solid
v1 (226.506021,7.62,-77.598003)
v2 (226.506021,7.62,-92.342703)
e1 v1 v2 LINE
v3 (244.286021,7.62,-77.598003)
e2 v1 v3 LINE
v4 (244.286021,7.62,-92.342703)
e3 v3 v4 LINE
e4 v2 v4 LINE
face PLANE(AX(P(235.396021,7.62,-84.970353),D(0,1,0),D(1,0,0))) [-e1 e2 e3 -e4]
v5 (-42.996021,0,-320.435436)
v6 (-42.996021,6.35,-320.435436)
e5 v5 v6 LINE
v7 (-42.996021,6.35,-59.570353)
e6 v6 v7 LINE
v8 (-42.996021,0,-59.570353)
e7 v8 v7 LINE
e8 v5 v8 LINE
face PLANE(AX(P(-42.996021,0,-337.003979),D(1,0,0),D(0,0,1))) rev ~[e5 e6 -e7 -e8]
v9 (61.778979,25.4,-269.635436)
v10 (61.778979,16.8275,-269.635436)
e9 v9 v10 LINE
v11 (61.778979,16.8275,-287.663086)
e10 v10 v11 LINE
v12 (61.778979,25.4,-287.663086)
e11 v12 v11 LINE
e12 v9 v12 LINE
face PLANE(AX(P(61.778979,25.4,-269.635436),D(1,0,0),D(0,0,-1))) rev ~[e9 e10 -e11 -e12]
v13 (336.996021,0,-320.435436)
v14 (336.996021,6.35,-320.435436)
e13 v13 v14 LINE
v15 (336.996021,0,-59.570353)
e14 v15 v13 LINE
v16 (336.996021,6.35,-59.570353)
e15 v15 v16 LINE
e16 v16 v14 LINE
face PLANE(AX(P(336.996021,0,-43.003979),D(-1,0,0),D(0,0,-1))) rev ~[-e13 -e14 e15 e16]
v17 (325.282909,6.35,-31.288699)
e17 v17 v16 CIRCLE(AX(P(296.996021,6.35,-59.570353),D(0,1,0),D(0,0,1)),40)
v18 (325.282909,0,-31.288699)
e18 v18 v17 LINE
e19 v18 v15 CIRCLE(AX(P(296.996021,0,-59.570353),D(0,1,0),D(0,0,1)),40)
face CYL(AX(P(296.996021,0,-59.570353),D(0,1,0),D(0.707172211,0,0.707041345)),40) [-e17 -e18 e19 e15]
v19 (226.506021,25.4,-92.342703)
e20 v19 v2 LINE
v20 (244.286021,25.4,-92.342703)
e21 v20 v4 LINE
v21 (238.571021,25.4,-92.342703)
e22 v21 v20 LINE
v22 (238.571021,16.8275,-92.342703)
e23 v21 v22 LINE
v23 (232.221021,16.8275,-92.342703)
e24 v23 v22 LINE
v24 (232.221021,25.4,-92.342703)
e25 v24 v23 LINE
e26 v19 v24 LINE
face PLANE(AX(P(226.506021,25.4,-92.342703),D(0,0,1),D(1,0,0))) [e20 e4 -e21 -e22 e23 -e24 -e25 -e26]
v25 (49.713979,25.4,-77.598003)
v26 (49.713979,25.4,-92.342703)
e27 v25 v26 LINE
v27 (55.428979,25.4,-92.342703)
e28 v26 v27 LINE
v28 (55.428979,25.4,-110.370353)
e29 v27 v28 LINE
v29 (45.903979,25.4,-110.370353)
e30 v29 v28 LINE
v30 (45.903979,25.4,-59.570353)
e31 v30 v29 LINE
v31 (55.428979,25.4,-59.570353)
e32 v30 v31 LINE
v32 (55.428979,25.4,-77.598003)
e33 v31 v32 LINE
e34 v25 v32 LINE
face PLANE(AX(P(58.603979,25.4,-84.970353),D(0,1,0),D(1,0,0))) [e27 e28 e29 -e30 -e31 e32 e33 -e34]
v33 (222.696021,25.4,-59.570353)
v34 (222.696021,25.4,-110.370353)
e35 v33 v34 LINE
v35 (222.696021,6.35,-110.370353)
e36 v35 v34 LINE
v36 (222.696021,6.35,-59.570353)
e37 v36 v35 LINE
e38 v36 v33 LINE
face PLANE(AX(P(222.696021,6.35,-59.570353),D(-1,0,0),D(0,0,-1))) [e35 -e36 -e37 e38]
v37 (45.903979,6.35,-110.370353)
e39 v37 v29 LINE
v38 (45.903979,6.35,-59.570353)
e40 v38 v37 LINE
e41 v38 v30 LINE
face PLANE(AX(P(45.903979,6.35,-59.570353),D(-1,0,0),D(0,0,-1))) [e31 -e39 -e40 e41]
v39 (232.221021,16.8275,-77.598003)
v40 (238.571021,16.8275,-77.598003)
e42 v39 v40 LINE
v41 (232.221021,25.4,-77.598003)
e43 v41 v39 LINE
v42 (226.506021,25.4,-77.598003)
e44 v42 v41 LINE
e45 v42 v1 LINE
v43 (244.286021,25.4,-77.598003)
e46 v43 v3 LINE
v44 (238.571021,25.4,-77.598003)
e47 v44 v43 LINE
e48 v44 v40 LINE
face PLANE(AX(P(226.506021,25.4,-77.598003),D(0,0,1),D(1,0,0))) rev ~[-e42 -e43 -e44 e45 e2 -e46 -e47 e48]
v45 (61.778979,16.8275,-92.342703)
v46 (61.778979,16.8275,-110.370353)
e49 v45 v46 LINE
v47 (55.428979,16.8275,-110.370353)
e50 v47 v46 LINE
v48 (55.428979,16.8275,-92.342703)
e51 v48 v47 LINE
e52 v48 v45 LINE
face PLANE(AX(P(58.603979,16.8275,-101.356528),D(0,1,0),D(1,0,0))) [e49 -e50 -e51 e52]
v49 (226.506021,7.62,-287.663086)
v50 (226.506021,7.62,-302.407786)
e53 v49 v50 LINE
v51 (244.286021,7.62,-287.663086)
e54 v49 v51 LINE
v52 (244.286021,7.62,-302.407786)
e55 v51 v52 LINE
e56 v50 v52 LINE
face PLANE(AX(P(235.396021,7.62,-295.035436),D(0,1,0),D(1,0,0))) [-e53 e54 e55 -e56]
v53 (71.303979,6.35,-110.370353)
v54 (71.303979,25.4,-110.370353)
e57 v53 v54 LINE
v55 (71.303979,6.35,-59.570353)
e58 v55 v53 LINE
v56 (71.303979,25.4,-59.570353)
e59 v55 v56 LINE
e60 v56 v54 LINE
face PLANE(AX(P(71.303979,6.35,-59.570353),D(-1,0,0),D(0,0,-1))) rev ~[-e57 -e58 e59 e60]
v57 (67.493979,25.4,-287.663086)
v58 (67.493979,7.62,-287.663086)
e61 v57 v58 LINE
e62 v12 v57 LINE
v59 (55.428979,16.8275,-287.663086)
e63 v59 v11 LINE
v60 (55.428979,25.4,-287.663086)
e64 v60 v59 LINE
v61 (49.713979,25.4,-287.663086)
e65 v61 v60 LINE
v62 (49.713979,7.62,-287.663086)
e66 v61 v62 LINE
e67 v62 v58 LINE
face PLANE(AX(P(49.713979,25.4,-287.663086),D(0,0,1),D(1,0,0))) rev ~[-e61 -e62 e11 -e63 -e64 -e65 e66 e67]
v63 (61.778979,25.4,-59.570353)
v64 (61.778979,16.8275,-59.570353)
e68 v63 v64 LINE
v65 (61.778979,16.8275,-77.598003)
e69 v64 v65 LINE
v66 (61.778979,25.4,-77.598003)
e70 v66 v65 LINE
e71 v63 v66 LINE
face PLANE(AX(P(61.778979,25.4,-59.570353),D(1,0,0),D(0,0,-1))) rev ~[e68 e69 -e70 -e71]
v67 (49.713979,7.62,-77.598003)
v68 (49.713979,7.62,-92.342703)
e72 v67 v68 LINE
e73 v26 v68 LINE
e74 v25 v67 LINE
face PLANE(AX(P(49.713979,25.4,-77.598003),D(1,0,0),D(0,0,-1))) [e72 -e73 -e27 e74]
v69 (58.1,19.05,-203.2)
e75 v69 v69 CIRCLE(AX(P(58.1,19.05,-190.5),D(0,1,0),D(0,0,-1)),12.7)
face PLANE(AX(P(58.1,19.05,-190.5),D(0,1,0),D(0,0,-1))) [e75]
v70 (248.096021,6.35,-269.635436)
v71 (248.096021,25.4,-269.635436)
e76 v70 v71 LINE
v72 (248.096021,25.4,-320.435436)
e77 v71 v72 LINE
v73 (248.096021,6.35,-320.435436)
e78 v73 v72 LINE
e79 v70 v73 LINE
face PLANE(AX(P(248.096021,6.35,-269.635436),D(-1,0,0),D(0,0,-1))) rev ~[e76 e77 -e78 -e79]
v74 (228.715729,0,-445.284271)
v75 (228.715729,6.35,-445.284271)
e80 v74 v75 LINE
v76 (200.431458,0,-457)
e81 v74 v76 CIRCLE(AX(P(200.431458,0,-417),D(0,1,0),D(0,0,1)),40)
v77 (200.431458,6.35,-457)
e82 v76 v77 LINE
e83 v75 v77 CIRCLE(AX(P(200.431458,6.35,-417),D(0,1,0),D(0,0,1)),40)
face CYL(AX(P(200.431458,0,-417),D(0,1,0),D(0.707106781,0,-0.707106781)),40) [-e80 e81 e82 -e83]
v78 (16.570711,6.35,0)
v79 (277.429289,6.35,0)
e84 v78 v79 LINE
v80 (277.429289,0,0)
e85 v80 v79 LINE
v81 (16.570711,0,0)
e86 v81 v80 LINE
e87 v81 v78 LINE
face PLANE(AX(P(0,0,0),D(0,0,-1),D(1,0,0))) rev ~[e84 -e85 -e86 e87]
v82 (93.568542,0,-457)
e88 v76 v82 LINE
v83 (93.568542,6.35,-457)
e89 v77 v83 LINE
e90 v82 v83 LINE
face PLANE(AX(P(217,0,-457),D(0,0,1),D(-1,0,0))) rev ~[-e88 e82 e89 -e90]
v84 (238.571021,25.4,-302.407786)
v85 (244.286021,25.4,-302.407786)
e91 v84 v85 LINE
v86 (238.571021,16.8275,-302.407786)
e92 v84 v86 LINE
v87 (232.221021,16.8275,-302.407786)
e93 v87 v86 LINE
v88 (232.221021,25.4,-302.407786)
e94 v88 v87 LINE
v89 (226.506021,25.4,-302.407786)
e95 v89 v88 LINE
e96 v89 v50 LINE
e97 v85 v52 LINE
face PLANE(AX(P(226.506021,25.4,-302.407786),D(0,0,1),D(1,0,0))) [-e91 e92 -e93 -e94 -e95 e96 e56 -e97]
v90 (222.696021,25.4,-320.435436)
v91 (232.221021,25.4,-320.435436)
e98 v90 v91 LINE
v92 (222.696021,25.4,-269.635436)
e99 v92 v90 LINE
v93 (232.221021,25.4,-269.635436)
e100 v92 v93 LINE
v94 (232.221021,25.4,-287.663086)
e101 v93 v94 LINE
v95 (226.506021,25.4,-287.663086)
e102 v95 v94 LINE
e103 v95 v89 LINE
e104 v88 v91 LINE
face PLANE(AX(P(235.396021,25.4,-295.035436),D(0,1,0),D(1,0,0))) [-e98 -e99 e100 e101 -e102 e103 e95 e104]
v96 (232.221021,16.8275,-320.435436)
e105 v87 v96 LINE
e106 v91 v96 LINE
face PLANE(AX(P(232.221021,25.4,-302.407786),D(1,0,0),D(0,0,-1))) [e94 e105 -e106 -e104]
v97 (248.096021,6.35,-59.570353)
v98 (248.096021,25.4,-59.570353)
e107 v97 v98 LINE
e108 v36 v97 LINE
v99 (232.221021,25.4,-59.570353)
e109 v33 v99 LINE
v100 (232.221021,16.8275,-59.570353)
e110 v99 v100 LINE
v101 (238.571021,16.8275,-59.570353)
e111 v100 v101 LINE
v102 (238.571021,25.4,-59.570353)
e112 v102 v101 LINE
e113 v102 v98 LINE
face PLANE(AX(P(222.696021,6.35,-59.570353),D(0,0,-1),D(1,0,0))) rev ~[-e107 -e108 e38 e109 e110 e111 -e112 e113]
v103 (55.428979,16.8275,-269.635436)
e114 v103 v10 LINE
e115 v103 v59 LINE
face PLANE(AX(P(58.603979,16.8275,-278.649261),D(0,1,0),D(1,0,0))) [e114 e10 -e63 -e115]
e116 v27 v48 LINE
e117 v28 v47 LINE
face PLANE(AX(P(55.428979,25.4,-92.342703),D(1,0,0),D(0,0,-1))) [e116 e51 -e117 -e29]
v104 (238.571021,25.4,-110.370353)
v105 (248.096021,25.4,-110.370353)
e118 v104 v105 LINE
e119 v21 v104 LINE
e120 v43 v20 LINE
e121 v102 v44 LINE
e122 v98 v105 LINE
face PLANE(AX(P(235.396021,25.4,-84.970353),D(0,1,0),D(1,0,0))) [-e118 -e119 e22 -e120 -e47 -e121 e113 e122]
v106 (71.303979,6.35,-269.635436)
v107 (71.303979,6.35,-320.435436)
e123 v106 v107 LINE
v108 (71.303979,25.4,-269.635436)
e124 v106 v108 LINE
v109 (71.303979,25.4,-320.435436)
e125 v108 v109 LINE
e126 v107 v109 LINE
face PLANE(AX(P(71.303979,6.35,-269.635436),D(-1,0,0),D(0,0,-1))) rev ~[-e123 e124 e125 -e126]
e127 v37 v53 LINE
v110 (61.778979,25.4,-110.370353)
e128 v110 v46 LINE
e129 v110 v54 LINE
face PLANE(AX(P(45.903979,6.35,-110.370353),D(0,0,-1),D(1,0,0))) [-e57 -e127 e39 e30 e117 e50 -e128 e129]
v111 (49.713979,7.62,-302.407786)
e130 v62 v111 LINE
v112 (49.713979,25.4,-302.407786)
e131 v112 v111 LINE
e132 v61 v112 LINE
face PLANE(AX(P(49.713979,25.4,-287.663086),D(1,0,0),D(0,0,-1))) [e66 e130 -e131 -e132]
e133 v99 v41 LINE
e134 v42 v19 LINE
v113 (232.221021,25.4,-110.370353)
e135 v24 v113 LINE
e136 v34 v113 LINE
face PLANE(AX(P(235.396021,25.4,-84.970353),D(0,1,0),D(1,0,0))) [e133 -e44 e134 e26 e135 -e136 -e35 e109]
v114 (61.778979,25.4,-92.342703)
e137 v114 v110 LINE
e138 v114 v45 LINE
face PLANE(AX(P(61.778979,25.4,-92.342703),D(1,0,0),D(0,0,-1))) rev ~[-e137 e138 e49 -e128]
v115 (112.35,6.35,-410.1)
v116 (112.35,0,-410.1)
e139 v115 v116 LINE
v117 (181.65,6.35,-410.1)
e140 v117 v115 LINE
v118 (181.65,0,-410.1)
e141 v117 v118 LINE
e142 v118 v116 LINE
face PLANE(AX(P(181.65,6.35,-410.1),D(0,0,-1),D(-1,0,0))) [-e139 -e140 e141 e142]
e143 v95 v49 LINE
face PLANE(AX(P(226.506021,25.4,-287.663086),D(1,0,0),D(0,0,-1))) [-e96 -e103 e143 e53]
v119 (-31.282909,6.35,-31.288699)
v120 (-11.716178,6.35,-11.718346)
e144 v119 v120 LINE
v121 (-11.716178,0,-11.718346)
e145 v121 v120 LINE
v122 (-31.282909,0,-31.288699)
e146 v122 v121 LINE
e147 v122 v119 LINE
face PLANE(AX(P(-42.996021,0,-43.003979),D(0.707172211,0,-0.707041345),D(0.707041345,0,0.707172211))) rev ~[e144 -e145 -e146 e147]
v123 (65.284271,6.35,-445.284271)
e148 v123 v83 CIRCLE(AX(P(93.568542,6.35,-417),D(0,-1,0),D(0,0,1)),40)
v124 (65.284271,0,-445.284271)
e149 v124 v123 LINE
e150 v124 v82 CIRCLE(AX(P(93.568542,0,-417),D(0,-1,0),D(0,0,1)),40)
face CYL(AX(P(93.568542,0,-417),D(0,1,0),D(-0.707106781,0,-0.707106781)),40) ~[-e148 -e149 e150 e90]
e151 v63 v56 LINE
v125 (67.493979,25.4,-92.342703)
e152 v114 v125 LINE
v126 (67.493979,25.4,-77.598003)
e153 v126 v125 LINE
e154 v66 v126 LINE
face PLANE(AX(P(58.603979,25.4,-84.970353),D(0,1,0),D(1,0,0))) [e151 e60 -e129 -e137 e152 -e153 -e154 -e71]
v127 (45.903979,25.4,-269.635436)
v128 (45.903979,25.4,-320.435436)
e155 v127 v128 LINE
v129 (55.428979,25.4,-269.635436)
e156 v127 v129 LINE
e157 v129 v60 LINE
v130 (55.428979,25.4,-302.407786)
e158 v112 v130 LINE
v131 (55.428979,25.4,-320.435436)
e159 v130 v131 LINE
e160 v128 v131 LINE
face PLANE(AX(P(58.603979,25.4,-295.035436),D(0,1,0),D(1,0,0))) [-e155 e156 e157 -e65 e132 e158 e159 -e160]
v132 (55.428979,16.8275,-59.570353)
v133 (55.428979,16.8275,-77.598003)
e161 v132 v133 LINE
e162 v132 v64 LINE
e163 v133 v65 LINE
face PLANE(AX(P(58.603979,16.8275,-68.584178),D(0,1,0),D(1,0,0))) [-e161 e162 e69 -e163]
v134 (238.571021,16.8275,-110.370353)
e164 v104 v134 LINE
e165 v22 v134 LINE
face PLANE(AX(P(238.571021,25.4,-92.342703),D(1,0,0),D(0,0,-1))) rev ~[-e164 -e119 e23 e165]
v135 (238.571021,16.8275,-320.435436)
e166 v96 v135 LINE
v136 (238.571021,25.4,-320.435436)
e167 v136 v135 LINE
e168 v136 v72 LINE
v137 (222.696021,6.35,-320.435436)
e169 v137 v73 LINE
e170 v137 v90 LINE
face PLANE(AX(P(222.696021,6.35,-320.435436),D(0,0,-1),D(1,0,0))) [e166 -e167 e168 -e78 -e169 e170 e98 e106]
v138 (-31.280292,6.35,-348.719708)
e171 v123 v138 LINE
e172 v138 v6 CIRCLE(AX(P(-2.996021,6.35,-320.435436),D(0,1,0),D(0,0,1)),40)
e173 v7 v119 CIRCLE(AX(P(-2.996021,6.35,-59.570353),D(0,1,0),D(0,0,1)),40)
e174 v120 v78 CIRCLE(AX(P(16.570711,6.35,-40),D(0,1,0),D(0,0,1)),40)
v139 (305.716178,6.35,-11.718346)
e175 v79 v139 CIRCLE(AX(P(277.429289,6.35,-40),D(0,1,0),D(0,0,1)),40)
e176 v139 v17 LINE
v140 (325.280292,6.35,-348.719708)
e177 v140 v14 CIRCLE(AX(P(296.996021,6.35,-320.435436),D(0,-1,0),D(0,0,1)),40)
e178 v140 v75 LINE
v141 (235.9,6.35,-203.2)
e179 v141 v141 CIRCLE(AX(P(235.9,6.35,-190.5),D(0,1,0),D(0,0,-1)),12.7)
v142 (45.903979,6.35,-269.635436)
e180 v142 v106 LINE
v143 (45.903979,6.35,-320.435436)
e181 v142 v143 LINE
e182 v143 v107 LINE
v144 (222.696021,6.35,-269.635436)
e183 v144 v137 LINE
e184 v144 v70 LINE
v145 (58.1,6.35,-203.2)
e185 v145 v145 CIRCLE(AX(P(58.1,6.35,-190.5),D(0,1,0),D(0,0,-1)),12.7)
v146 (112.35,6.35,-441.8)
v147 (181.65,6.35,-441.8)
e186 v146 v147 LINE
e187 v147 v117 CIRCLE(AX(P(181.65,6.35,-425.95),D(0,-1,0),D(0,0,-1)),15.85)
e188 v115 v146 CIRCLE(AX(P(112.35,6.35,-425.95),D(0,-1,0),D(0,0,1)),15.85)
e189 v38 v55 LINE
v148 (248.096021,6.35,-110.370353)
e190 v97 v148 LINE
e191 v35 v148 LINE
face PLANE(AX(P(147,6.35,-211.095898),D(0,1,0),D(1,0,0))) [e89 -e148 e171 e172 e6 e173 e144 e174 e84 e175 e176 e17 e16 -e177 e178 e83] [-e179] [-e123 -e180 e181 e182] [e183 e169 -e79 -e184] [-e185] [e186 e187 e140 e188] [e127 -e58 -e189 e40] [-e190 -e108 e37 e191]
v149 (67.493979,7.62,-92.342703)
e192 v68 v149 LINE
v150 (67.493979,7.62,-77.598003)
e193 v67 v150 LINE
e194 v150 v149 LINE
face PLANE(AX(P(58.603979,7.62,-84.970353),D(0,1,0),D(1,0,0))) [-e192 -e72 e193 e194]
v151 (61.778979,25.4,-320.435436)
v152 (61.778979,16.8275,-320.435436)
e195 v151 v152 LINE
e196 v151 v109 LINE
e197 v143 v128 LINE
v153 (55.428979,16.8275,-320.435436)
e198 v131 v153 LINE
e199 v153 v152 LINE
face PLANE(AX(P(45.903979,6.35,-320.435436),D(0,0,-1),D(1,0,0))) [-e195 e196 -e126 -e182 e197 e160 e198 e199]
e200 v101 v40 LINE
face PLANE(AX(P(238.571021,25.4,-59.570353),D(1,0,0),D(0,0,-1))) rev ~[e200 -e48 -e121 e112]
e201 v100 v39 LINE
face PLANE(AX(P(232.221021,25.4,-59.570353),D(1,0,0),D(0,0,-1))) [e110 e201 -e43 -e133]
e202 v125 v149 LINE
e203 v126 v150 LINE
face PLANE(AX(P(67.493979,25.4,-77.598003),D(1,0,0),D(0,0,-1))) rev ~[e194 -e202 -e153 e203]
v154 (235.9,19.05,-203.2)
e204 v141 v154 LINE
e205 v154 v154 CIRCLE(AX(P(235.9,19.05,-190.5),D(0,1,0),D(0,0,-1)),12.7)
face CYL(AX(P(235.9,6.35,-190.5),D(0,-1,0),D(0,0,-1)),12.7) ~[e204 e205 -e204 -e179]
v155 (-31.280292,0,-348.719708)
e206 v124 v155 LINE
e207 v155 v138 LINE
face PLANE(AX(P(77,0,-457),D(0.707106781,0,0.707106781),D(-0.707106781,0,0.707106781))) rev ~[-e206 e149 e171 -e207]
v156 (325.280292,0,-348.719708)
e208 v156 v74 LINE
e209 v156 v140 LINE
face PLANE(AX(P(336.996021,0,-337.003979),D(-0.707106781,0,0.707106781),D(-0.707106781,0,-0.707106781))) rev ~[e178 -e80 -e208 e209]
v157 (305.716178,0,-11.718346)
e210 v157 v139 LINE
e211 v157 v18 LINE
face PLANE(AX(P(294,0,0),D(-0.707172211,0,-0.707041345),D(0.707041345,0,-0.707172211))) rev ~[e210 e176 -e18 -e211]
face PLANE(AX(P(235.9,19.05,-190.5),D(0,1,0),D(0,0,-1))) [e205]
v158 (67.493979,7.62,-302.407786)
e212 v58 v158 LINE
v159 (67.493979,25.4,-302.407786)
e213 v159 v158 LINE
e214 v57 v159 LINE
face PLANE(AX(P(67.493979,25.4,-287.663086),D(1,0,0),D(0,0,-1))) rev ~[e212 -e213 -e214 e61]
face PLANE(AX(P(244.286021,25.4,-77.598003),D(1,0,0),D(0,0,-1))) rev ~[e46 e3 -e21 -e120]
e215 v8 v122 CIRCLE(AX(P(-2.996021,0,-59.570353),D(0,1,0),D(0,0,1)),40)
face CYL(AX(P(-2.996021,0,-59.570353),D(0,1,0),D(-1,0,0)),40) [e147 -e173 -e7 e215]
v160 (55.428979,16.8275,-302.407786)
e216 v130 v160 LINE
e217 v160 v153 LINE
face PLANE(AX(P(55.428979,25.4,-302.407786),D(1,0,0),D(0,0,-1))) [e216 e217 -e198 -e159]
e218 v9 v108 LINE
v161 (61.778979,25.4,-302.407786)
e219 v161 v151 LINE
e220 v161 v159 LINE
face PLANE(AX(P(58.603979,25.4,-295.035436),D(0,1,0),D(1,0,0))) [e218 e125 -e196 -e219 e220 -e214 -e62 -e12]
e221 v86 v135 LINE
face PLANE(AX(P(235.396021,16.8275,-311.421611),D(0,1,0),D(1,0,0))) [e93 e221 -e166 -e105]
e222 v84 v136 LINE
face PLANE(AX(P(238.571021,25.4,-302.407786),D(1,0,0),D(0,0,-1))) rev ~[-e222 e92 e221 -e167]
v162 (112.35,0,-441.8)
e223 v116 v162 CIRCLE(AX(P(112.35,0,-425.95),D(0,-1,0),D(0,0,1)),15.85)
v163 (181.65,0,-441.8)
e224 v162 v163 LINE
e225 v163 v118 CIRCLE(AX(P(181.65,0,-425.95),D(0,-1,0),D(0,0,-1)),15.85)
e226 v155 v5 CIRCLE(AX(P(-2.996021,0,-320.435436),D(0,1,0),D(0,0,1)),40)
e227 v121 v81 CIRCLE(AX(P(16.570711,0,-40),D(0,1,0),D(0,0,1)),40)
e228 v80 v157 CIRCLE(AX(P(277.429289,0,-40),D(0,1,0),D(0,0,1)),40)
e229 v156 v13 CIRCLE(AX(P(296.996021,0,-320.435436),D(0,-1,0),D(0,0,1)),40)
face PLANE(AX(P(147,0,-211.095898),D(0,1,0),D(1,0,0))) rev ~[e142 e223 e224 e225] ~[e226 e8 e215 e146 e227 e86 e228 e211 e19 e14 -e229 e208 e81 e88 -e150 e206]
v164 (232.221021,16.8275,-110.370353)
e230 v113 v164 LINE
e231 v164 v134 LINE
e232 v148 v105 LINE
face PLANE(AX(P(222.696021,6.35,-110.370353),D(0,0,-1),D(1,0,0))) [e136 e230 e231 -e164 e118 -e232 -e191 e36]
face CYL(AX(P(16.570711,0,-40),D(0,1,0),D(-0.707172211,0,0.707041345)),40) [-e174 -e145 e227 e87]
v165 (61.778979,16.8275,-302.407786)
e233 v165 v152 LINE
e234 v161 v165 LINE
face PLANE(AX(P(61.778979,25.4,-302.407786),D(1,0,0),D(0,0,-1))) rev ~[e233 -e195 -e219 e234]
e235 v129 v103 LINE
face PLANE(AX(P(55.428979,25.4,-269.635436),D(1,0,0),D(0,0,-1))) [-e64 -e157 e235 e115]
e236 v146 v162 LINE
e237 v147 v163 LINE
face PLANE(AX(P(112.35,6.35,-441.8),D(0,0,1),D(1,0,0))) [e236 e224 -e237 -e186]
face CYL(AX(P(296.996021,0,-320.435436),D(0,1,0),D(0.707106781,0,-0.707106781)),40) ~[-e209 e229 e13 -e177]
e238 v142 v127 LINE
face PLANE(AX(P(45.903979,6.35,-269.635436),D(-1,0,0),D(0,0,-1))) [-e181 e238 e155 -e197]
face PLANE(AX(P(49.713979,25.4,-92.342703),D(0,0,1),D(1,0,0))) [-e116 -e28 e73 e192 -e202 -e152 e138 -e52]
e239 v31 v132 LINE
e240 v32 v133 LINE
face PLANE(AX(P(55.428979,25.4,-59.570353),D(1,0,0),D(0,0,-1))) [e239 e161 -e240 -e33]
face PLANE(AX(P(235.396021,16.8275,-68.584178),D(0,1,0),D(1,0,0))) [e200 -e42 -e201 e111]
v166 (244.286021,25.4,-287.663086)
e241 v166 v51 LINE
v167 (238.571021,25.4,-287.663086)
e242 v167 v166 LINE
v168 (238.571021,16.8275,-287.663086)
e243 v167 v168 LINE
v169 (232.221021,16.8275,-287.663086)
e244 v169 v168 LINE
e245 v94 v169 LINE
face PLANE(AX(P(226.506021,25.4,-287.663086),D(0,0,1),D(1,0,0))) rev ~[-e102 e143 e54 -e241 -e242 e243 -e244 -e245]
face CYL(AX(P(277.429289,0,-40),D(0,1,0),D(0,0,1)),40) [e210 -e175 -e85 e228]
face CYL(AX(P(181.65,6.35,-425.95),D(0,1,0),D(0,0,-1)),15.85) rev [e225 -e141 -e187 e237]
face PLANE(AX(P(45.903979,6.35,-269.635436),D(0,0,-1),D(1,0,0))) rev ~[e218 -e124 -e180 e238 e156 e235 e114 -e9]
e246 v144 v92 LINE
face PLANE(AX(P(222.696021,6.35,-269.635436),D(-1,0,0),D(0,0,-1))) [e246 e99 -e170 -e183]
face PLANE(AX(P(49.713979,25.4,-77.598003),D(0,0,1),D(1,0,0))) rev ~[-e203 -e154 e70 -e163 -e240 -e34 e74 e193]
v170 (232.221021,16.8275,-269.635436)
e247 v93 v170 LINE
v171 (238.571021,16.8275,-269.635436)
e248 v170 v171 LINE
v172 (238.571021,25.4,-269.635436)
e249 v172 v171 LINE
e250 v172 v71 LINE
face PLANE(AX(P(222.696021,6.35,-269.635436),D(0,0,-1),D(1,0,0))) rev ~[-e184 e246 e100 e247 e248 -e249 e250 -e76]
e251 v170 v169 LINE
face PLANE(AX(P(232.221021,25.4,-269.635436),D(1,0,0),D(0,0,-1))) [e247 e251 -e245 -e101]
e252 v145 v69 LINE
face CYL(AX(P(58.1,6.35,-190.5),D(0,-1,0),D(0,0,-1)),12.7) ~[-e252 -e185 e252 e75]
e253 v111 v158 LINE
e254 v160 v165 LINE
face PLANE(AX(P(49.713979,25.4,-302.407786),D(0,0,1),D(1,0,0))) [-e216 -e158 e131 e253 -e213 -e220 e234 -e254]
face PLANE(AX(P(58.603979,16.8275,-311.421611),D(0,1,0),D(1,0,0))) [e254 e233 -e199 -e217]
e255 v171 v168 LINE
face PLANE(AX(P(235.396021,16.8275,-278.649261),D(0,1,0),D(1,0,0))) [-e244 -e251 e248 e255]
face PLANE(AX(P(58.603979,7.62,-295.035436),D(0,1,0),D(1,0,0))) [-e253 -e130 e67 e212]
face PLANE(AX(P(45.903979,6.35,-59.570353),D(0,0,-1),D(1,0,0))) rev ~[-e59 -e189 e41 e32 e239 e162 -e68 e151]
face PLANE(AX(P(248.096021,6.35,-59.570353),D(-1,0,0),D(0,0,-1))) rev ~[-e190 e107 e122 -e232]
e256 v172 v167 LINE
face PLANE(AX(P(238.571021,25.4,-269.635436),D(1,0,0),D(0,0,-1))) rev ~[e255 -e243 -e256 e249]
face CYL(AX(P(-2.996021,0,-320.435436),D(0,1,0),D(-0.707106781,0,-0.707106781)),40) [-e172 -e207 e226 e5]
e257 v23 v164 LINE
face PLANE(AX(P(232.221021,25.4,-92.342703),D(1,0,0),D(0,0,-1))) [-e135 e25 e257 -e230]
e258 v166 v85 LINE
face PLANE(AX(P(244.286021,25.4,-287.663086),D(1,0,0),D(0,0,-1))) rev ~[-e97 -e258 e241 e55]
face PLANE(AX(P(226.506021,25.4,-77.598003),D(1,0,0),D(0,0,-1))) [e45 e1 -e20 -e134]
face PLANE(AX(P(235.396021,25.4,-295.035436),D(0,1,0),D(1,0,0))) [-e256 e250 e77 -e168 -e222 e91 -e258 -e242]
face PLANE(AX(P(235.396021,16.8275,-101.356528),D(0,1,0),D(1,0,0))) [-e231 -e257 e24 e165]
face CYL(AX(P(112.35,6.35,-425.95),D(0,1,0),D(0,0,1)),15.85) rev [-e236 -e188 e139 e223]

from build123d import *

# Parameters (mm, degrees)
BODY_DEPTH          = 6.35
HANDLE_DEPTH        = 6.35
FILLET1_R           = 40
FILLET2_R           = 40
SKETCH3_W           = 25.4
SKETCH3_H           = 50.8
BOSS_EXTRUDE2_DEPTH = 19.05
SKETCH4_W           = 17.78
SKETCH4_H           = 14.7447
CUT_EXTRUDE1_DEPTH  = 17.78
SKETCH5_W           = 6.35
SKETCH5_H           = 18.02765
CUT_EXTRUDE2_DEPTH  = 8.5725
SKETCH6_R           = 12.7
BOSS_EXTRUDE3_DEPTH = 12.7


with BuildPart() as part:
    # Sketch1 → Body (new body)
    with BuildSketch(Plane(origin=(0, 0, 0), x_dir=(1, 0, 0), z_dir=(0, 1, 0))):
        Polygon((0, 0), (294, 0), (336.996020767, 43.003978862), (336.996020767, 337.003978862), (217, 456.999999629), (77, 456.999999629), (-42.996020767, 337.003978862), (-42.996020767, 43.003978862), align=None)
    extrude(amount=BODY_DEPTH)

    # Sketch2 → Handle (cut)
    with BuildSketch(Plane(origin=(0, 6.35, 0), x_dir=(1, 0, 0), z_dir=(0, 1, 0))):
        with BuildLine():
            Line((112.35, 441.799999629), (181.65, 441.799999629))
            ThreePointArc((181.65, 441.799999629), (197.5, 425.949999629), (181.65, 410.099999629))
            Line((181.65, 410.099999629), (112.35, 410.099999629))
            ThreePointArc((112.35, 410.099999629), (96.5, 425.949999629), (112.35, 441.799999629))
        make_face()
    extrude(amount=-HANDLE_DEPTH, mode=Mode.SUBTRACT)

    # Fillet1
    fillet1_edges = [part.edges().sort_by_distance(p)[0] for p in [
        (77, 3.175, -456.999999629),
        (217, 3.175, -456.999999629),
    ]]
    fillet(fillet1_edges, radius=FILLET1_R)

    # Fillet2
    fillet2_edges = [part.edges().sort_by_distance(p)[0] for p in [
        (-42.996020767, 3.175, -43.003978862),
        (-42.996020767, 3.175, -337.003978862),
        (336.996020767, 3.175, -337.003978862),
        (336.996020767, 3.175, -43.003978862),
        (294, 3.175, 0),
        (0, 3.175, 0),
    ]]
    fillet(fillet2_edges, radius=FILLET2_R)

    # Sketch3 → Boss-Extrude2 (add)
    with BuildSketch(Plane(origin=(0, 6.35, 0), x_dir=(1, 0, 0), z_dir=(0, 1, 0))):
        with Locations((235.396020767, 295.035436367)):
            Rectangle(SKETCH3_W, SKETCH3_H)
        with Locations((58.603979233, 295.035436367)):
            Rectangle(SKETCH3_W, SKETCH3_H)
        with Locations((235.396020767, 84.970353145)):
            Rectangle(SKETCH3_W, SKETCH3_H)
        with Locations((58.603979233, 84.970353145)):
            Rectangle(SKETCH3_W, SKETCH3_H)
    extrude(amount=BOSS_EXTRUDE2_DEPTH)

    # Sketch4 → Cut-Extrude1 (cut)
    with BuildSketch(Plane(origin=(0, 25.4, 0), x_dir=(1, 0, 0), z_dir=(0, 1, 0))):
        with Locations((58.603979233, 295.035436367)):
            Rectangle(SKETCH4_W, SKETCH4_H)
        with Locations((235.396020767, 295.035436367)):
            Rectangle(SKETCH4_W, SKETCH4_H)
        with Locations((58.603979233, 84.970353145)):
            Rectangle(SKETCH4_W, SKETCH4_H)
        with Locations((235.396020767, 84.970353145)):
            Rectangle(SKETCH4_W, SKETCH4_H)
    extrude(amount=-CUT_EXTRUDE1_DEPTH, mode=Mode.SUBTRACT)

    # Sketch5 → Cut-Extrude2 (cut)
    with BuildSketch(Plane(origin=(0, 25.4, 0), x_dir=(1, 0, 0), z_dir=(0, 1, 0))):
        with Locations((58.603979233, 101.356528145)):
            Rectangle(SKETCH5_W, SKETCH5_H)
        with Locations((58.603979233, 311.421611367)):
            Rectangle(SKETCH5_W, SKETCH5_H)
        with Locations((58.603979233, 278.649261367)):
            Rectangle(SKETCH5_W, SKETCH5_H)
        with Locations((235.396020767, 278.649261367)):
            Rectangle(SKETCH5_W, SKETCH5_H)
        with Locations((235.396020767, 311.421611367)):
            Rectangle(SKETCH5_W, SKETCH5_H)
        with Locations((58.603979233, 68.584178145)):
            Rectangle(SKETCH5_W, SKETCH5_H)
        with Locations((235.396020767, 68.584178145)):
            Rectangle(SKETCH5_W, SKETCH5_H)
        with Locations((235.396020767, 101.356528145)):
            Rectangle(SKETCH5_W, SKETCH5_H)
    extrude(amount=-CUT_EXTRUDE2_DEPTH, mode=Mode.SUBTRACT)

    # Sketch6 → Boss-Extrude3 (add)
    with BuildSketch(Plane(origin=(0, 6.35, 0), x_dir=(1, 0, 0), z_dir=(0, 1, 0))):
        with Locations(Location((58.1, 190.5, 0), (0, 0, 90))):
            Circle(SKETCH6_R)
        with Locations(Location((235.9, 190.5, 0), (0, 0, 90))):
            Circle(SKETCH6_R)
    extrude(amount=BOSS_EXTRUDE3_DEPTH)


solid = part.part
